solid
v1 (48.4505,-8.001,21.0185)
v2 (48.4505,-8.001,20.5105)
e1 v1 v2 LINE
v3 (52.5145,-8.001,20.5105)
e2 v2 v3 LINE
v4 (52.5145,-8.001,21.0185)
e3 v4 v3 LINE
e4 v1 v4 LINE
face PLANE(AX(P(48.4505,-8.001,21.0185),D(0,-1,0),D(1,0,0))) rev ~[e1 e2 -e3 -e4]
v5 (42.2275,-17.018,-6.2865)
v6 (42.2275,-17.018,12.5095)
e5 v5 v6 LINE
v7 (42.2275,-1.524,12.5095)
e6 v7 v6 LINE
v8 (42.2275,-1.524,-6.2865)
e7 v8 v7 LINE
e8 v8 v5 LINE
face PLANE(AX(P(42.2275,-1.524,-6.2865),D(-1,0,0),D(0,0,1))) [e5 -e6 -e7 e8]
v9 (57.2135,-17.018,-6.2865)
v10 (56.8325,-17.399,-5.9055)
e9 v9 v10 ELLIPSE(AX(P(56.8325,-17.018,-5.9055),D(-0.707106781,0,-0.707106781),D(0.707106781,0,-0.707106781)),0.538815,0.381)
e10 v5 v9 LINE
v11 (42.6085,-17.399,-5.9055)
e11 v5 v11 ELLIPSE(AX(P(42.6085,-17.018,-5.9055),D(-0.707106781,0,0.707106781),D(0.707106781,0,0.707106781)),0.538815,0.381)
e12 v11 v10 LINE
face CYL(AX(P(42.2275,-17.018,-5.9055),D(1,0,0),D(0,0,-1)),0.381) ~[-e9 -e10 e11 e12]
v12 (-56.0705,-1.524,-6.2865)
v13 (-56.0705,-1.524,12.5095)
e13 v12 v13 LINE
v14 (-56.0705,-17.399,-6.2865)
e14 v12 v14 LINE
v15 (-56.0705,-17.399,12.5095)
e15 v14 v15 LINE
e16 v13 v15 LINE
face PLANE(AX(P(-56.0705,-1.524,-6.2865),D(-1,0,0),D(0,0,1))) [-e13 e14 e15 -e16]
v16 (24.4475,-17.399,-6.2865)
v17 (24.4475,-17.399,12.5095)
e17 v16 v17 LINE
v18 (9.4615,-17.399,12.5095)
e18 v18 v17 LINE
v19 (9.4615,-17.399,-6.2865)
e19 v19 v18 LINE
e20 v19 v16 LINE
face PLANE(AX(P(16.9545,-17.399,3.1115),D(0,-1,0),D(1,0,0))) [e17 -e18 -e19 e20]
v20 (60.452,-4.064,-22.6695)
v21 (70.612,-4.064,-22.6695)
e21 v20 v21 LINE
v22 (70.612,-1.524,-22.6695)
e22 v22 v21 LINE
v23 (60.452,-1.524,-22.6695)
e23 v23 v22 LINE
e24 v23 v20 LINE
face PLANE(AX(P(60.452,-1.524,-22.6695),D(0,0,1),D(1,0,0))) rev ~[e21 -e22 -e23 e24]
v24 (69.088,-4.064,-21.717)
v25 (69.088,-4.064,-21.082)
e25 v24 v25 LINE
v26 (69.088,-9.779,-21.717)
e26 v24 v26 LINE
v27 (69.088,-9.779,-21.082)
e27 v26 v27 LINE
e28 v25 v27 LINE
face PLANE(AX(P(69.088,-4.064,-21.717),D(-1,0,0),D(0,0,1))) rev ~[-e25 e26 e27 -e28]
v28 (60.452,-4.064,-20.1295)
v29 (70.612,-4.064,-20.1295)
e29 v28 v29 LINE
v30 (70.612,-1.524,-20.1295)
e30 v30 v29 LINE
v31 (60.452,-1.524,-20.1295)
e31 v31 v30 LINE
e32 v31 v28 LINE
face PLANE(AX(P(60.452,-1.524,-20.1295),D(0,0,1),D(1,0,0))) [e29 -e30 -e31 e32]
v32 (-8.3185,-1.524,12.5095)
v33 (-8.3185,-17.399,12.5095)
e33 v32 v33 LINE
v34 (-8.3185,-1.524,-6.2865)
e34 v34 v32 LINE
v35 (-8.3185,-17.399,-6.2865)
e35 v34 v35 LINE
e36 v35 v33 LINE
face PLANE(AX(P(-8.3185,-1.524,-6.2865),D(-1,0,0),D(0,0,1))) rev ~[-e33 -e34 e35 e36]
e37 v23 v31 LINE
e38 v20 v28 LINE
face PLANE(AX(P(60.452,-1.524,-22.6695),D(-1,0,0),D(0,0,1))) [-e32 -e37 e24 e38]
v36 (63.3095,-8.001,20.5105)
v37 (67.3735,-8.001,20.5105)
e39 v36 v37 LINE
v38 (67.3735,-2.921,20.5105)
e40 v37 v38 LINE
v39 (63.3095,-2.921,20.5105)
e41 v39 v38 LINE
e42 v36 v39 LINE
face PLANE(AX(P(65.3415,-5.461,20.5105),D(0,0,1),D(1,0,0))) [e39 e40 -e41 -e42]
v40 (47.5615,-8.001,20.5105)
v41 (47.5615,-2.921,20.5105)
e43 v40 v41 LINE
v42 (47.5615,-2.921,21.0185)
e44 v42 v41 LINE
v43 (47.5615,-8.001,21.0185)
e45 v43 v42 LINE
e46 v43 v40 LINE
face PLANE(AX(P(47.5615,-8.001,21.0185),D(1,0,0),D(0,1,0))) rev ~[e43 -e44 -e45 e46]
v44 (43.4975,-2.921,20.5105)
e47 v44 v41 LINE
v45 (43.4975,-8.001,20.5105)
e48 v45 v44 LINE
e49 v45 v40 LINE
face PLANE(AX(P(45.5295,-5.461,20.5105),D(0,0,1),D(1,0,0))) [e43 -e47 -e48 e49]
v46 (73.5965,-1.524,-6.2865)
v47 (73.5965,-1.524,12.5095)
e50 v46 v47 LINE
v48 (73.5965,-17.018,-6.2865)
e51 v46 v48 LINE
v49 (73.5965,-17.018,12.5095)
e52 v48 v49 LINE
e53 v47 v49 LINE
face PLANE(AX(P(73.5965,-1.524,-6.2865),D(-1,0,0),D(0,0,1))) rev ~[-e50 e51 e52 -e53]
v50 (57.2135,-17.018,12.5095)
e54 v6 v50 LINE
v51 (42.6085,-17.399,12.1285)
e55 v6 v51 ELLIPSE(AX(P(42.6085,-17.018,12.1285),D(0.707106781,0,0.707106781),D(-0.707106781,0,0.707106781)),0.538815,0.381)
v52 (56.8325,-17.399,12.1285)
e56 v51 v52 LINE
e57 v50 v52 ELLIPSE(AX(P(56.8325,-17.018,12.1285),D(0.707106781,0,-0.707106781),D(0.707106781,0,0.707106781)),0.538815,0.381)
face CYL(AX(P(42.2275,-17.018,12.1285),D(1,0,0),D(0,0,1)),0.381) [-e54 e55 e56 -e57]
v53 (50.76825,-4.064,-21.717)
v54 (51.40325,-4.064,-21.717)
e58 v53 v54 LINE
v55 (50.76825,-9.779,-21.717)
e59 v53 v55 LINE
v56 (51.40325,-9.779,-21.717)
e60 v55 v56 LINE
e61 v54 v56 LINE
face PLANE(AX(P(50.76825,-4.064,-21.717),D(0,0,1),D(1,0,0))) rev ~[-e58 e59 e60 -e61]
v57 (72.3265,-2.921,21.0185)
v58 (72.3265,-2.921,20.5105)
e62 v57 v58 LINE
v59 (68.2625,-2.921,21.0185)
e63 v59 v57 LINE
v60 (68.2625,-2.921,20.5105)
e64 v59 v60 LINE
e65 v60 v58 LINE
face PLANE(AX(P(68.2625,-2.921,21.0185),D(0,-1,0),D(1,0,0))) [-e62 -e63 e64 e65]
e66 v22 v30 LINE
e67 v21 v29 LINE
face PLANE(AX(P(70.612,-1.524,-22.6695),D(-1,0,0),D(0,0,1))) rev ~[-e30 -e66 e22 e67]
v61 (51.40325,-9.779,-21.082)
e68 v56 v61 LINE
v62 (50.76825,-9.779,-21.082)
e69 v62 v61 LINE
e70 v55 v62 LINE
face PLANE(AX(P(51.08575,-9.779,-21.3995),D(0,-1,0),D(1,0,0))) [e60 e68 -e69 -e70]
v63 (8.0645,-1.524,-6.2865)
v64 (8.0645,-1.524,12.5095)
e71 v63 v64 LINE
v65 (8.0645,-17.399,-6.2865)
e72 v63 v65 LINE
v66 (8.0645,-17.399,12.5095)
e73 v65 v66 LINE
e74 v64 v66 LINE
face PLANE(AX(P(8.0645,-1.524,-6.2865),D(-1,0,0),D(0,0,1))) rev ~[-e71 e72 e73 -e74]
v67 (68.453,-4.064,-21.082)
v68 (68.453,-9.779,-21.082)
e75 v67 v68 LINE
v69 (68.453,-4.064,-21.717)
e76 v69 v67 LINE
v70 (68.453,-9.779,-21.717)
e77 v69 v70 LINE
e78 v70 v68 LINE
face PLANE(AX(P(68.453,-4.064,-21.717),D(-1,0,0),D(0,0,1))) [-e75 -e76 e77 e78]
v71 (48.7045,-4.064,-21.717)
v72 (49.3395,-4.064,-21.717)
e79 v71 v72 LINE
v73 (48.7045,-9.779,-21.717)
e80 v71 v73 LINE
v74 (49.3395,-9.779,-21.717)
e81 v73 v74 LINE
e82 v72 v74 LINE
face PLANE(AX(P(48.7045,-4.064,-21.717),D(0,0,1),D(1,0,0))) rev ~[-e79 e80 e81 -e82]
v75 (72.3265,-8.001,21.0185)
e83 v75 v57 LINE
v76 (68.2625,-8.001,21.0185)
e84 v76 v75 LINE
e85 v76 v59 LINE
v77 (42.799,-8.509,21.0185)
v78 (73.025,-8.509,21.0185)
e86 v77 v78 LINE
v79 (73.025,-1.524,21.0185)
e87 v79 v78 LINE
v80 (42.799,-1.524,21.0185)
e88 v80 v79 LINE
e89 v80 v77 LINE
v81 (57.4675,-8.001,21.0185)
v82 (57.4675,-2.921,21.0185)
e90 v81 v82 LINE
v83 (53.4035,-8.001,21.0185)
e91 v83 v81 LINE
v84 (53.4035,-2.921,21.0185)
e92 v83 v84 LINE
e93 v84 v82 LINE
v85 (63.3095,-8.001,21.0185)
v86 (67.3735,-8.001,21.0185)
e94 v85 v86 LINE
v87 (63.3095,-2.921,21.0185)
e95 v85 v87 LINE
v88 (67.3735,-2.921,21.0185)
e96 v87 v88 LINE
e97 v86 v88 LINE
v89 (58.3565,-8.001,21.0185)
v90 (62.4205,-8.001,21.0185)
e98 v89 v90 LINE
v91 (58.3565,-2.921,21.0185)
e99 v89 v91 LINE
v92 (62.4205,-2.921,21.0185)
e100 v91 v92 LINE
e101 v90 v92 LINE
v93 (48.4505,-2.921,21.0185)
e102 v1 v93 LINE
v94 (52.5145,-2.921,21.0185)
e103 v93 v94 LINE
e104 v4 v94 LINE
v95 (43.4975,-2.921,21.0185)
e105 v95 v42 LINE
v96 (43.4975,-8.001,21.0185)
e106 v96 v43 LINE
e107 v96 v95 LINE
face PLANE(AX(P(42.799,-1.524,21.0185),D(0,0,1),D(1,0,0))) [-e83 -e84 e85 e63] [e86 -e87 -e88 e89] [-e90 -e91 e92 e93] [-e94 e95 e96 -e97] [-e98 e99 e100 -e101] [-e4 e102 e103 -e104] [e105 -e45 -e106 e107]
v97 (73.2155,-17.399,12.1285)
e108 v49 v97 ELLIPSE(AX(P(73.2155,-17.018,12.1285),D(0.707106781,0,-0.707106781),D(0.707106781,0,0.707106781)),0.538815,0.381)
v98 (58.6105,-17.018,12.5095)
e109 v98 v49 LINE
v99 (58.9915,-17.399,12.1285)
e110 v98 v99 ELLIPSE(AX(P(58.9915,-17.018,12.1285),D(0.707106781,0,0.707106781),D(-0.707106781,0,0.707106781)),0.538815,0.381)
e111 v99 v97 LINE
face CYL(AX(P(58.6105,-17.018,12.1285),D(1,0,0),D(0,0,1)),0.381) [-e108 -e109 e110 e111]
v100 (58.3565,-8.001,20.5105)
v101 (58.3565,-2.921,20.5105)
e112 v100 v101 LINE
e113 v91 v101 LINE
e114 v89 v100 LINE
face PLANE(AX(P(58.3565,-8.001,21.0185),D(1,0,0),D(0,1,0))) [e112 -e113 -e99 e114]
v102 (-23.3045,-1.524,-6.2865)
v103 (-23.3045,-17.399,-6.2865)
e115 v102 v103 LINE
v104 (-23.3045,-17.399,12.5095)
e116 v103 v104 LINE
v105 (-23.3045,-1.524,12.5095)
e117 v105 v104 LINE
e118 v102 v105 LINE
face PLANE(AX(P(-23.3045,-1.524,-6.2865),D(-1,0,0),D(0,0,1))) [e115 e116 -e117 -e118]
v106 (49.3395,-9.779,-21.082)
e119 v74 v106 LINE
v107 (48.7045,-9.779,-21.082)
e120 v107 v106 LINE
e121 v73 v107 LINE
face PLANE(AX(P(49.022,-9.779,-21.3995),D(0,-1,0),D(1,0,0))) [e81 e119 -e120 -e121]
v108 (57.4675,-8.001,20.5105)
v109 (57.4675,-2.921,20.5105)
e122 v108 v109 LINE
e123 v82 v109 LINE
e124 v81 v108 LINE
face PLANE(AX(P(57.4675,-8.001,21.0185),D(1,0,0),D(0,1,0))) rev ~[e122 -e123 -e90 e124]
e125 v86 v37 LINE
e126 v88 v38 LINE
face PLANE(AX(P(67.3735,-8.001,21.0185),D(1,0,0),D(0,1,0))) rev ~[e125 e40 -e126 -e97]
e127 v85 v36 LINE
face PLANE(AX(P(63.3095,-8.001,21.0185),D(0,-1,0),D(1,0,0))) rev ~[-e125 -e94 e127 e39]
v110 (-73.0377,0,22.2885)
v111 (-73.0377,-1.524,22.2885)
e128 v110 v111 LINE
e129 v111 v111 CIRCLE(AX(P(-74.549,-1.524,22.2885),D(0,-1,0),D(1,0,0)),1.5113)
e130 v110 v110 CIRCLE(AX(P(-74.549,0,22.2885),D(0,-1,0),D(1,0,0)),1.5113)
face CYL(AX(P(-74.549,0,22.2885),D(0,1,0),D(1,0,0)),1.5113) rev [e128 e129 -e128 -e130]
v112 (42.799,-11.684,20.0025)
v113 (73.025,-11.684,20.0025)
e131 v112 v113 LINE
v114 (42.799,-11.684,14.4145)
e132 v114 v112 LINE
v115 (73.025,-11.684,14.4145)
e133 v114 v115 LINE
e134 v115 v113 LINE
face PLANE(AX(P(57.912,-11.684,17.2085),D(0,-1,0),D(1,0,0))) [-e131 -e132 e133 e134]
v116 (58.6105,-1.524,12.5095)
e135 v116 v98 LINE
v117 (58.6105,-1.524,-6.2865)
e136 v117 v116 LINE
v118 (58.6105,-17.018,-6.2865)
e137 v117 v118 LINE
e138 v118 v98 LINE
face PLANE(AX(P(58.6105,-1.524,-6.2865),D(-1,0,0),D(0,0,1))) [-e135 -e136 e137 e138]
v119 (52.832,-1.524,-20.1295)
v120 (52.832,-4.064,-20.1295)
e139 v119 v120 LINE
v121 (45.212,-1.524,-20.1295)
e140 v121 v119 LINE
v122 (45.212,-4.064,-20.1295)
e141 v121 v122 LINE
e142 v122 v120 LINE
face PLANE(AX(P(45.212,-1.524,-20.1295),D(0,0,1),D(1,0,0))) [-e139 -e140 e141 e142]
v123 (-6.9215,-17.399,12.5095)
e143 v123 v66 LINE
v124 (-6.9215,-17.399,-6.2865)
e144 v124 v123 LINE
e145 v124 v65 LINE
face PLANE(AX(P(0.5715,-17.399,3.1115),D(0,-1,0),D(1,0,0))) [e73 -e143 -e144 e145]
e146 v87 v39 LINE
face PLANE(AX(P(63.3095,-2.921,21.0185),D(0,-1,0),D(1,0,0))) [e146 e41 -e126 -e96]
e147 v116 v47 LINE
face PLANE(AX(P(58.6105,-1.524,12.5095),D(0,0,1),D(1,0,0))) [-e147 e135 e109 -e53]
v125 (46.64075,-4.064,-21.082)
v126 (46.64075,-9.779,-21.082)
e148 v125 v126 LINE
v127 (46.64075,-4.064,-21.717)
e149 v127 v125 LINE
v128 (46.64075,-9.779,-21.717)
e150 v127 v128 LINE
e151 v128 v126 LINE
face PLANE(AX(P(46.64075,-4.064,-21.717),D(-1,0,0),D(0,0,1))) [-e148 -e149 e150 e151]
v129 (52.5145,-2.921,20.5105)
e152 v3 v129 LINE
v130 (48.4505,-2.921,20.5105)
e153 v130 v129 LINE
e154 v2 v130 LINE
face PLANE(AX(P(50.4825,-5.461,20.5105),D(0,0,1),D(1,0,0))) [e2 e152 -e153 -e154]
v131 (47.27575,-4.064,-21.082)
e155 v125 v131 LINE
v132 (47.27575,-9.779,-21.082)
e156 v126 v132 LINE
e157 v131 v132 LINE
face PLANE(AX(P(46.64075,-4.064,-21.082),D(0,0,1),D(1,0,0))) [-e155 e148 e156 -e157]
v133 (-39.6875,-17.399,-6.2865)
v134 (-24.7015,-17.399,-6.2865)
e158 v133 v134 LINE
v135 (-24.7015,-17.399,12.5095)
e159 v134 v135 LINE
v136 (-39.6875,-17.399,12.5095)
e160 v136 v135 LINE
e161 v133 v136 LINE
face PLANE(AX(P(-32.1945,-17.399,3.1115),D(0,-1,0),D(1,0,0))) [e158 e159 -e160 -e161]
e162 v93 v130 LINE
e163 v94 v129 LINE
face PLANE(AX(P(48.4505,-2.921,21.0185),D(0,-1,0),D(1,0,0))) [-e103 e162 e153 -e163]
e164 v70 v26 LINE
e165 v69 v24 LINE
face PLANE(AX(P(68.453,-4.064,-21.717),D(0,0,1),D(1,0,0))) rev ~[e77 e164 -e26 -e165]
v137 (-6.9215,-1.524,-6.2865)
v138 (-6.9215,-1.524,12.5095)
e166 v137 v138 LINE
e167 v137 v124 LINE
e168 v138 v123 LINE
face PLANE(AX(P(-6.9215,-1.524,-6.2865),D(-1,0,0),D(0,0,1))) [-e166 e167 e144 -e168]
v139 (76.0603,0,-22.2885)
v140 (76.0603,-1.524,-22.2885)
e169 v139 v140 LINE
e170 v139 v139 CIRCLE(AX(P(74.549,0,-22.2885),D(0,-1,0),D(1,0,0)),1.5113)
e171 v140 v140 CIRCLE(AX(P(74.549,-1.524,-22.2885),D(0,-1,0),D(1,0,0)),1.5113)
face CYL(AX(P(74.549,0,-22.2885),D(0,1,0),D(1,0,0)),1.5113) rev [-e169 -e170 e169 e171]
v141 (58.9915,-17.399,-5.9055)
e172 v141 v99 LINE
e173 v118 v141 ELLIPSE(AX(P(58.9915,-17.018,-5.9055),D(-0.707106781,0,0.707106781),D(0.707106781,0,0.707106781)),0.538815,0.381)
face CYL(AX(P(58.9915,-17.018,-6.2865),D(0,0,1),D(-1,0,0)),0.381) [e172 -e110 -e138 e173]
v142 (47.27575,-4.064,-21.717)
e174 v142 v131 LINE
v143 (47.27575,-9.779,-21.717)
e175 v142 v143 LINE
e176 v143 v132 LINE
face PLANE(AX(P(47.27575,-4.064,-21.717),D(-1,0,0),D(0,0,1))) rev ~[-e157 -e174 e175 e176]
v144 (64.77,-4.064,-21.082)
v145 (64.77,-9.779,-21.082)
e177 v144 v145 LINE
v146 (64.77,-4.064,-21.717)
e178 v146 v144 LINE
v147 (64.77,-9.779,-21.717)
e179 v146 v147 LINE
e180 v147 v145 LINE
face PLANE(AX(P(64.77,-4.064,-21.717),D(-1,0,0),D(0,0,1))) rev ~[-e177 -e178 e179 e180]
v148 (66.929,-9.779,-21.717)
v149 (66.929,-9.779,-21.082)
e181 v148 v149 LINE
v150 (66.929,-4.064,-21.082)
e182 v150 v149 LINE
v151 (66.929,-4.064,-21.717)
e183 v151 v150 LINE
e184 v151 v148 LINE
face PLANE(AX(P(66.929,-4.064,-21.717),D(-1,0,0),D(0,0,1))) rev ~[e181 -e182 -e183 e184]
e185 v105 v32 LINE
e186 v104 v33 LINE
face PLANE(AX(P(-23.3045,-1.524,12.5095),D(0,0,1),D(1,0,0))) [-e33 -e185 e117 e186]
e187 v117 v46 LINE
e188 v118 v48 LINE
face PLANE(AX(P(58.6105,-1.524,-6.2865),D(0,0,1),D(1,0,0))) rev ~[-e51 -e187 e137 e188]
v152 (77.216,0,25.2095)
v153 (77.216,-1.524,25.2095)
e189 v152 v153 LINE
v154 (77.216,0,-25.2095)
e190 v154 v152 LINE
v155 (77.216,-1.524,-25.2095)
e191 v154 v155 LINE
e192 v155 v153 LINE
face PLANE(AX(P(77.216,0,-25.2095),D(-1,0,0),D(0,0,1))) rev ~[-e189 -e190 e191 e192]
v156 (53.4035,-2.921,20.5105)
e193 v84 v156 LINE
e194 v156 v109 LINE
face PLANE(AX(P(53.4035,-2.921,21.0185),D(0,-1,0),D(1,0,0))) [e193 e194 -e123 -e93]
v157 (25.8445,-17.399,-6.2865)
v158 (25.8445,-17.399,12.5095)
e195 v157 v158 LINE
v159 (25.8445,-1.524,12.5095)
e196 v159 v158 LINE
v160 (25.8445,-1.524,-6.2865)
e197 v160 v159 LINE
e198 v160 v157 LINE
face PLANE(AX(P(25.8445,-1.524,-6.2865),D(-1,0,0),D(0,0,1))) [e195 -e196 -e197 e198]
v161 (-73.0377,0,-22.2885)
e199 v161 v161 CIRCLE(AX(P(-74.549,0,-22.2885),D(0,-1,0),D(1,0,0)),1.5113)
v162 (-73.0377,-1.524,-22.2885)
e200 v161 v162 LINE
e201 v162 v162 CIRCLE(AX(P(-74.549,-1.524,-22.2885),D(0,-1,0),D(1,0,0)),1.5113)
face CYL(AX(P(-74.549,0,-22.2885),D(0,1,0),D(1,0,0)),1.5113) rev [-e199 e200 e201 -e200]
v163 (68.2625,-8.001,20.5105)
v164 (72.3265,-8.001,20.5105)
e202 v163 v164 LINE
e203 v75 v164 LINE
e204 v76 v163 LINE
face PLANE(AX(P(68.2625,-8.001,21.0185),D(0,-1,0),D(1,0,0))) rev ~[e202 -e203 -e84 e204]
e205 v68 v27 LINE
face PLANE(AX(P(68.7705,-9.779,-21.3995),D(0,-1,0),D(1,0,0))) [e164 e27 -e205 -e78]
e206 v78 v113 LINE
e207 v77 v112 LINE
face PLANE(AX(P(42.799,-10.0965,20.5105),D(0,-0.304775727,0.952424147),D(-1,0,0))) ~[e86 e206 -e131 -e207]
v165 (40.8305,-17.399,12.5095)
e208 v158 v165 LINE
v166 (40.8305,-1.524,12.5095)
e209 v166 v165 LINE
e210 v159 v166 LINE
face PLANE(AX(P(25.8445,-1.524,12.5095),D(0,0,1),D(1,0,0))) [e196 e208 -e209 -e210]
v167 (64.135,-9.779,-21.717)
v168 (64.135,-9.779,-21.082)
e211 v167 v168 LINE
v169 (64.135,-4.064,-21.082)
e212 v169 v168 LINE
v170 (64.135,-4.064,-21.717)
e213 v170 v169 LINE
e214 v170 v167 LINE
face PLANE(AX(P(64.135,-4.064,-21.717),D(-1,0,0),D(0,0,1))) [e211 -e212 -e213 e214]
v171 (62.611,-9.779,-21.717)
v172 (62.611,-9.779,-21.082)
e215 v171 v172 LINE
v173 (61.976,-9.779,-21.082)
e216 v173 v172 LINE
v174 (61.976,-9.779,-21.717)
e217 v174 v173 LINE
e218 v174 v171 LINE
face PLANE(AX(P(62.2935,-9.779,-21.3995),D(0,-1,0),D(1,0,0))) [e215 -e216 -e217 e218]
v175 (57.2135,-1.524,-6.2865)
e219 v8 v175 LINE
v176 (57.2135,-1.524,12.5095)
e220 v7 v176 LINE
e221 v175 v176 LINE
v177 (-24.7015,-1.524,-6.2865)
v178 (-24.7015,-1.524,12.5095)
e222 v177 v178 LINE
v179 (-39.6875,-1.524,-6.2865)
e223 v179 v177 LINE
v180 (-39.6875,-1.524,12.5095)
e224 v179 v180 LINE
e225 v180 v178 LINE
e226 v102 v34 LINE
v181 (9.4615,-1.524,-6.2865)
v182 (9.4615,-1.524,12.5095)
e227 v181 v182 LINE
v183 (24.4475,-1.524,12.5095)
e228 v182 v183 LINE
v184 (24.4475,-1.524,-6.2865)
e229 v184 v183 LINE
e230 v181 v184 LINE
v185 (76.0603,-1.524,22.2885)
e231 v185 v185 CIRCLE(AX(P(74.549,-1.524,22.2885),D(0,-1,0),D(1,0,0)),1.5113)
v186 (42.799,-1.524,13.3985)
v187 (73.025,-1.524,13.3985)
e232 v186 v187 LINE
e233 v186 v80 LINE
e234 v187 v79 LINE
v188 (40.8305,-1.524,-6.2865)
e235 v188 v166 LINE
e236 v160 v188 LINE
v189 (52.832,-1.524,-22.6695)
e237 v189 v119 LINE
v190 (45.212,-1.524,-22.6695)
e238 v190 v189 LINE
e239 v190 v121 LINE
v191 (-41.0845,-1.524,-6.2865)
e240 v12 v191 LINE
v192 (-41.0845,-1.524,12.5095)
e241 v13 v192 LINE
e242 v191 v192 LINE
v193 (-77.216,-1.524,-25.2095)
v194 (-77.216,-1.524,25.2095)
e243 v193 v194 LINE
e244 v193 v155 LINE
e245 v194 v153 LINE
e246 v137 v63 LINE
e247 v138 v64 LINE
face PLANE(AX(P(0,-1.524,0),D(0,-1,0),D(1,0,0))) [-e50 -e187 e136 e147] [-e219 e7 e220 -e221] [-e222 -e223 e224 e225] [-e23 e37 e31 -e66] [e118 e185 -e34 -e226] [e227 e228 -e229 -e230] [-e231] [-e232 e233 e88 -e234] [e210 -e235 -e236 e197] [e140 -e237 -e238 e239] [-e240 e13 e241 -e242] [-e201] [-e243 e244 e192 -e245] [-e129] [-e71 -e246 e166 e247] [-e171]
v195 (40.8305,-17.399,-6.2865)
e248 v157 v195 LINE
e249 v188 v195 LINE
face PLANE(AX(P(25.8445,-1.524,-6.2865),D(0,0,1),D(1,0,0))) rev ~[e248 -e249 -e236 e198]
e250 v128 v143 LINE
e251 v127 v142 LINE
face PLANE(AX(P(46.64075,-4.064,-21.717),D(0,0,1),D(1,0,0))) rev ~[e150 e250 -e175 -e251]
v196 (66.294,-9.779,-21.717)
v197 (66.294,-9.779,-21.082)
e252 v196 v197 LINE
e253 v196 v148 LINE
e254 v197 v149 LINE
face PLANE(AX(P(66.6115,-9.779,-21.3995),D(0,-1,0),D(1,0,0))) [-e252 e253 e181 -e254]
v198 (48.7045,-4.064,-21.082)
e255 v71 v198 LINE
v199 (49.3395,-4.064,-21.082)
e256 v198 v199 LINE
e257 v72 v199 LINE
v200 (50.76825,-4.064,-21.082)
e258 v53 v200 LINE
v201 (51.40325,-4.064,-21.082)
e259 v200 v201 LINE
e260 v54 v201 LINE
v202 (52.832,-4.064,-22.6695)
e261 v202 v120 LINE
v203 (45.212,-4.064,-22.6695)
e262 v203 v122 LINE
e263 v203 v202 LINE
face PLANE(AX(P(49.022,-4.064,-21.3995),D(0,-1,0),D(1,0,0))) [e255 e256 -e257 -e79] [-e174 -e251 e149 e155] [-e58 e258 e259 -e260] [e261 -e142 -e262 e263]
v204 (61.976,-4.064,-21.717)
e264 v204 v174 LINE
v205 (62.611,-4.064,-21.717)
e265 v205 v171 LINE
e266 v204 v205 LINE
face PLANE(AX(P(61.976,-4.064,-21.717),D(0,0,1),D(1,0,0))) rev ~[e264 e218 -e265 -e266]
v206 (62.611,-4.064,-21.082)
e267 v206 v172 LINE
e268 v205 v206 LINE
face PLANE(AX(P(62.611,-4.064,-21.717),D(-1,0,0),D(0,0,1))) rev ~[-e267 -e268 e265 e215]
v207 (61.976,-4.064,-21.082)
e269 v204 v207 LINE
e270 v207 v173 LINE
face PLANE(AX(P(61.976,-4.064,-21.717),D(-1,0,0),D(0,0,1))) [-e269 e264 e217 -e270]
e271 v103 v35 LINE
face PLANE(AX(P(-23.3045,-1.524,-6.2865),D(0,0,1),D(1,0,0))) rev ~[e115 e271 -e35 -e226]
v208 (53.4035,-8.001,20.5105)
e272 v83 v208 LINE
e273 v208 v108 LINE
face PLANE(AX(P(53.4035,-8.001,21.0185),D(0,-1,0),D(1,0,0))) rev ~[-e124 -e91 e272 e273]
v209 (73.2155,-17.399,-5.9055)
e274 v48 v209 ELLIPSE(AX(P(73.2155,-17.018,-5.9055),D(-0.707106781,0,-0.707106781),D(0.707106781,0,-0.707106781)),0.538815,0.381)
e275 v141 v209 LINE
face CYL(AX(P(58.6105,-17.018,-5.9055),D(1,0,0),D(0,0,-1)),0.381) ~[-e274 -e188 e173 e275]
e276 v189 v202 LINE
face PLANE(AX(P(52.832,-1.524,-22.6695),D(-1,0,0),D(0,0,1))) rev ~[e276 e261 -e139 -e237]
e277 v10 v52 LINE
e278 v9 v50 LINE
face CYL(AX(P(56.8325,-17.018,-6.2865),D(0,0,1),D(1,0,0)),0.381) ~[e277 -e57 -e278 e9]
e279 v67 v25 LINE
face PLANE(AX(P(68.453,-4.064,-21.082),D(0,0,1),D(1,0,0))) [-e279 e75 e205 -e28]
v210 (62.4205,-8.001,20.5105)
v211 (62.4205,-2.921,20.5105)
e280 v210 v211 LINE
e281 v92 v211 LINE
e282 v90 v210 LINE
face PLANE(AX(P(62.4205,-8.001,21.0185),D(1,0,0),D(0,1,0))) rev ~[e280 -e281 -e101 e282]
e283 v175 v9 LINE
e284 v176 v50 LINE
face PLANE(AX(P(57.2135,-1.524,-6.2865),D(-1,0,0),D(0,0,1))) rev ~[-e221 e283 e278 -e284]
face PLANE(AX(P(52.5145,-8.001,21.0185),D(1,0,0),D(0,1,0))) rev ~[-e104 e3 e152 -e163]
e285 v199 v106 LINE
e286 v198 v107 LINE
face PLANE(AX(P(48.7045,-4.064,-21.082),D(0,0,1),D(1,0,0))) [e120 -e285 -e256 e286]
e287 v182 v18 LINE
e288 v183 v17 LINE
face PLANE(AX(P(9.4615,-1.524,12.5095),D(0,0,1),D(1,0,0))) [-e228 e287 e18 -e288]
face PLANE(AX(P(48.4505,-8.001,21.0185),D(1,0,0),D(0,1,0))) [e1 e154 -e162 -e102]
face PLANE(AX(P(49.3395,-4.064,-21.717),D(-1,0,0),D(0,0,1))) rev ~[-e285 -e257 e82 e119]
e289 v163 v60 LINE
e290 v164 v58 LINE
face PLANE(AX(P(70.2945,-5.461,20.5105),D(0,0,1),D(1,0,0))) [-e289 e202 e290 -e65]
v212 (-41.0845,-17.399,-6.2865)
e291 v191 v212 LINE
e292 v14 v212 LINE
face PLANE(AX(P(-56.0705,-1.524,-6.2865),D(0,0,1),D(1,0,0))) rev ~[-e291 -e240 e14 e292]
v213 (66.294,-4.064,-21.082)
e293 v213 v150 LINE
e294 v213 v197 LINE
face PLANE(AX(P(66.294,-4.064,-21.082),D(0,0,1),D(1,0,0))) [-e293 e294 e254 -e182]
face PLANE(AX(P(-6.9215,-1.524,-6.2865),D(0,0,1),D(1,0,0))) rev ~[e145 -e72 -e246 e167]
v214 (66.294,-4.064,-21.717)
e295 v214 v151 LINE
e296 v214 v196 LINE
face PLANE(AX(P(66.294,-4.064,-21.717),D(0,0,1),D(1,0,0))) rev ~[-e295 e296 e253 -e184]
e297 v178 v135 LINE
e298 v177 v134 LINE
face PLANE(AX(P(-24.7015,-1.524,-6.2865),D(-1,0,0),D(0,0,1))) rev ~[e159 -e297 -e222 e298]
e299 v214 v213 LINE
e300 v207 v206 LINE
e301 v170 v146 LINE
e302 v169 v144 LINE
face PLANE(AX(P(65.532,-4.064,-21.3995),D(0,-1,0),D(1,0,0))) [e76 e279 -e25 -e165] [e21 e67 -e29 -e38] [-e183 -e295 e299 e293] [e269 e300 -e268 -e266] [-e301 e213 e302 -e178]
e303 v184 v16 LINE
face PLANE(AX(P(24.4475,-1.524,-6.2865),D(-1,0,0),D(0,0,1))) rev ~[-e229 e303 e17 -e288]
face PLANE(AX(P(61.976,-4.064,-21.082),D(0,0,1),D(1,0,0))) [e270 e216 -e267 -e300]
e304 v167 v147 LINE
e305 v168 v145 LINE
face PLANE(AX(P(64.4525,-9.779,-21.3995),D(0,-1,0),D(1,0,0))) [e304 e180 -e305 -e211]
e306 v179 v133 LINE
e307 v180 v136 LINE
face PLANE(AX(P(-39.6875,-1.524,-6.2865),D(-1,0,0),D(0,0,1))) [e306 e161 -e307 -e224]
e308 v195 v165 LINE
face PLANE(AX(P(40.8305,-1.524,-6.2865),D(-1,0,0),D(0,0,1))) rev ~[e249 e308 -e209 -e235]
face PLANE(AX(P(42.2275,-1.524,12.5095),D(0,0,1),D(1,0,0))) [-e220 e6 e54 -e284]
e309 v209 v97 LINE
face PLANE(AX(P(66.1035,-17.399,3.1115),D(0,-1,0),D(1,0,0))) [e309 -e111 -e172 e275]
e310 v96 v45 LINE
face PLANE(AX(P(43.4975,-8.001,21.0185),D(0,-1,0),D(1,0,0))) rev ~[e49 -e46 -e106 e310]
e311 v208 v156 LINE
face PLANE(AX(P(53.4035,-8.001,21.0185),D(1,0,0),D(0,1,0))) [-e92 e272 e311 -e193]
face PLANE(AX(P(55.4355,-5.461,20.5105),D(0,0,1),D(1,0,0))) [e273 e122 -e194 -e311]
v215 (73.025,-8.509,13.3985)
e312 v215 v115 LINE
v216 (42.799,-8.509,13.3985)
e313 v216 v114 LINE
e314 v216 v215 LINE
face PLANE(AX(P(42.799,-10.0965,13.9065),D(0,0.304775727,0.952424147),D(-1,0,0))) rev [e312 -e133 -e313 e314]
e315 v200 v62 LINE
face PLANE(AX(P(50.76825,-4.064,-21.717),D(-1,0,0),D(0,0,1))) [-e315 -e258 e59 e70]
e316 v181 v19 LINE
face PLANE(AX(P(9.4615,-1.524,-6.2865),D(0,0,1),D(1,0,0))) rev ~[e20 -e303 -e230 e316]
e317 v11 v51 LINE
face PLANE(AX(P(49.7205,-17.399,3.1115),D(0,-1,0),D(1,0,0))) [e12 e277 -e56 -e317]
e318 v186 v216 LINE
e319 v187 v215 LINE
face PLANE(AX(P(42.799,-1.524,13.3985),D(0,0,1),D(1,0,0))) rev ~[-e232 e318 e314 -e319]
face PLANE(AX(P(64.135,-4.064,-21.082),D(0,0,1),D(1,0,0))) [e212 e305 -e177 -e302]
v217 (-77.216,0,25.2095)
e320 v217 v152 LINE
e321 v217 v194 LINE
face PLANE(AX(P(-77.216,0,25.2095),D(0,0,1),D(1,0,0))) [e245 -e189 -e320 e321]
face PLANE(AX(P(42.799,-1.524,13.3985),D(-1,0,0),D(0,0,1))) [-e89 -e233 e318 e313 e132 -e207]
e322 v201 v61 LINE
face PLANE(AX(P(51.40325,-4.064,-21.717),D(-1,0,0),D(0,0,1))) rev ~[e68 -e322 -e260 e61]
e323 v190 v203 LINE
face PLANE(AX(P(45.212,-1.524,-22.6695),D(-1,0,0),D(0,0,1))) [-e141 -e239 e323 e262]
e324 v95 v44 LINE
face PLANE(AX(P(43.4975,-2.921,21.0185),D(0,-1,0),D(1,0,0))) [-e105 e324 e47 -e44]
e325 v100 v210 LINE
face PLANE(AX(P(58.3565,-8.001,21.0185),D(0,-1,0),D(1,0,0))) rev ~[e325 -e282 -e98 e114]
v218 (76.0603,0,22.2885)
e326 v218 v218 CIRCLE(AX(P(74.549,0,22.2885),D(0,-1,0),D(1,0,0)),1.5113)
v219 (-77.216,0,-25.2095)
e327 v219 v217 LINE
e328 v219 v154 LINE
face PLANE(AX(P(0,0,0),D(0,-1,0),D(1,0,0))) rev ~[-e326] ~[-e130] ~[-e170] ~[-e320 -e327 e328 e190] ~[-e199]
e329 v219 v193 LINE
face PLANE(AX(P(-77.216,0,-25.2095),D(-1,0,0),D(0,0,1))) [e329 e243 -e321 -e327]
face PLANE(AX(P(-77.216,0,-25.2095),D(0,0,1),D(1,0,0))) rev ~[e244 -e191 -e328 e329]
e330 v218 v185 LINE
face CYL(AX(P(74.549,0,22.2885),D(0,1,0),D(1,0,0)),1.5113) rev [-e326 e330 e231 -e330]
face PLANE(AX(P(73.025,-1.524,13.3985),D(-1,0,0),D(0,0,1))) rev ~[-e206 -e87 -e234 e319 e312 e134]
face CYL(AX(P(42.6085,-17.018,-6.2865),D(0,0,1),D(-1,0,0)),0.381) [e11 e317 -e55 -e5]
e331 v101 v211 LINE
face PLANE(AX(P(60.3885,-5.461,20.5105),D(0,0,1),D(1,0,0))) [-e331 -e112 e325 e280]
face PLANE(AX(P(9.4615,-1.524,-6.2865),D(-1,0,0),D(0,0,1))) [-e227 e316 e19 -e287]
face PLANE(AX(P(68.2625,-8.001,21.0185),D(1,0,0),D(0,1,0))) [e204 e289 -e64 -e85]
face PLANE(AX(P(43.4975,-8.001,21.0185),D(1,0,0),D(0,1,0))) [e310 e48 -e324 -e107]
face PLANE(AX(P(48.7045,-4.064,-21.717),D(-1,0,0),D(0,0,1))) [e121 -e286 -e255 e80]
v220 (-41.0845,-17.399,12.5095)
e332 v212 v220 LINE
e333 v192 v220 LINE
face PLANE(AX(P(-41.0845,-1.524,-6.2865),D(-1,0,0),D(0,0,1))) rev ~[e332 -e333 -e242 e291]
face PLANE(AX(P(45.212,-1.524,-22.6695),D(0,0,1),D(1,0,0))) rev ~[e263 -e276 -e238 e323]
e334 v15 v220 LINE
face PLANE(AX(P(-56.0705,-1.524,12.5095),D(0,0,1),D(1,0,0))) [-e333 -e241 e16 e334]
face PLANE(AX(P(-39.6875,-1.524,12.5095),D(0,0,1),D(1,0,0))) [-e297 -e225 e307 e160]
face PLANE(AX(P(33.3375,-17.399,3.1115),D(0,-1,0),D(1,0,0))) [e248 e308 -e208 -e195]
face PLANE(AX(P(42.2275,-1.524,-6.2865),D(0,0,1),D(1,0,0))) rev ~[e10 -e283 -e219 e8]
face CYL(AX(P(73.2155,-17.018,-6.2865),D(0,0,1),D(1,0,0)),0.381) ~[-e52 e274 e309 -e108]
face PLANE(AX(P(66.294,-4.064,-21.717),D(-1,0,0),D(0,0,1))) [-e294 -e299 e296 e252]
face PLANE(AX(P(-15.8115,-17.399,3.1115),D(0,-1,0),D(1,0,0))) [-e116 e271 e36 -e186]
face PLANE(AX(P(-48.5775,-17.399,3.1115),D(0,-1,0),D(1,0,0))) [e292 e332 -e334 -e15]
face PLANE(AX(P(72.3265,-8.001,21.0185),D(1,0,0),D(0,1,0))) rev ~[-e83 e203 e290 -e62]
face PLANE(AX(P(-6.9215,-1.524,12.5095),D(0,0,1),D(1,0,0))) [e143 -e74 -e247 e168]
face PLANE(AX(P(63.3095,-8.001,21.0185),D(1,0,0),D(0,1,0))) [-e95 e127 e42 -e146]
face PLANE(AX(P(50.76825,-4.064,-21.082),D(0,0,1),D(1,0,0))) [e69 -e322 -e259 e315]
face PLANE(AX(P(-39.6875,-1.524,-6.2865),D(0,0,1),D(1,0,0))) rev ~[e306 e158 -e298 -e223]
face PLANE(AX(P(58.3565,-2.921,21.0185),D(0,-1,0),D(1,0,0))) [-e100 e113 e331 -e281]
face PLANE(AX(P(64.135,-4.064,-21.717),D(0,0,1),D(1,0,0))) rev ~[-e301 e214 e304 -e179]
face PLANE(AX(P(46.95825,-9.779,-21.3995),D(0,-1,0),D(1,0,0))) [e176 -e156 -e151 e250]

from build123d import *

# Parameters (mm, degrees)
F0_W      = 154.432
F0_H      = 50.419
F0_R      = 1.5113
F1_DEPTH  = 1.524
F2_W      = 14.986
F2_H      = 18.796
F3_DEPTH  = 15.875
F4_R      = 0.381
F5_W      = 30.226
F5_H      = 7.62
F6_DEPTH  = 10.16
F7_SIZE2  = 1.016
F7_SIZE   = 3.175
F8_W      = 4.064
F8_H      = 5.08
F9_DEPTH  = 0.508
F10_W     = 7.62
F10_H     = 2.54
F10_W_2   = 10.16
F11_DEPTH = 2.54
F12_W     = 0.635
F12_H     = 0.635
F13_DEPTH = 5.715


with BuildPart() as f1:
    # F0 (on Front) → F1 (new body)
    with BuildSketch(Plane.XZ):
        Rectangle(F0_W, F0_H)
        with Locations((-74.549, -22.2885)):
            Circle(F0_R, mode=Mode.SUBTRACT)
        with Locations((74.549, -22.2885)):
            Circle(F0_R, mode=Mode.SUBTRACT)
        with Locations((-74.549, 22.2885)):
            Circle(F0_R, mode=Mode.SUBTRACT)
        with Locations((74.549, 22.2885)):
            Circle(F0_R, mode=Mode.SUBTRACT)
    extrude(amount=F1_DEPTH)

    # F2 (on face) → F3 (join)
    with BuildSketch(Plane.XZ.offset(1.524)):
        with Locations((49.7205, 3.1115)):
            Rectangle(F2_W, F2_H)
        with Locations((66.1035, 3.1115)):
            Rectangle(F2_W, F2_H)
        with Locations((33.3375, 3.1115)):
            Rectangle(F2_W, F2_H)
        with Locations((16.9545, 3.1115)):
            Rectangle(F2_W, F2_H)
        with Locations((0.5715, 3.1115)):
            Rectangle(F2_W, F2_H)
        with Locations((-15.8115, 3.1115)):
            Rectangle(F2_W, F2_H)
        with Locations((-32.1945, 3.1115)):
            Rectangle(F2_W, F2_H)
        with Locations((-48.5775, 3.1115)):
            Rectangle(F2_W, F2_H)
    extrude(amount=F3_DEPTH)

    # F4
    f4_edges = [f1.edges().sort_by_distance(p)[0] for p in [
        (42.2275, -17.399, 3.1115),
        (49.7205, -17.399, -6.2865),
        (57.2135, -17.399, 3.1115),
        (49.7205, -17.399, 12.5095),
        (58.6105, -17.399, 3.1115),
        (66.1035, -17.399, -6.2865),
        (73.5965, -17.399, 3.1115),
        (66.1035, -17.399, 12.5095),
    ]]
    fillet(f4_edges, radius=F4_R)

    # F5 (on face) → F6 (join)
    with BuildSketch(Plane.XZ.offset(1.524)):
        with Locations((57.912, 17.2085)):
            Rectangle(F5_W, F5_H)
    extrude(amount=F6_DEPTH)

    # F7
    f7_edges = [f1.edges().sort_by_distance(p)[0] for p in [
        (57.912, -11.684, 21.0185),
        (57.912, -11.684, 13.3985),
    ]]
    chamfer(f7_edges, length=F7_SIZE, length2=F7_SIZE2)

    # F8 (on face) → F9 (cut)
    with BuildSketch(Plane.XY.offset(21.0185)):
        with Locations((45.5295, -5.461)):
            Rectangle(F8_W, F8_H)
        with Locations((50.4825, -5.461)):
            Rectangle(F8_W, F8_H)
        with Locations((55.4355, -5.461)):
            Rectangle(F8_W, F8_H)
        with Locations((60.3885, -5.461)):
            Rectangle(F8_W, F8_H)
        with Locations((65.3415, -5.461)):
            Rectangle(F8_W, F8_H)
        with Locations((70.2945, -5.461)):
            Rectangle(F8_W, F8_H)
    extrude(amount=-F9_DEPTH, mode=Mode.SUBTRACT)

    # F10 (on face) → F11 (join)
    with BuildSketch(Plane.XZ.offset(1.524)):
        with Locations((49.022, -21.3995)):
            Rectangle(F10_W, F10_H)
        with Locations((65.532, -21.3995)):
            Rectangle(F10_W_2, F10_H)
    extrude(amount=F11_DEPTH)

    # F12 (on face) → F13 (join)
    with BuildSketch(Plane.XZ.offset(4.064)):
        with Locations((62.2935, -21.3995)):
            Rectangle(F12_W, F12_H)
        with Locations((64.4525, -21.3995)):
            Rectangle(F12_W, F12_H)
        with Locations((66.6115, -21.3995)):
            Rectangle(F12_W, F12_H)
        with Locations((68.7705, -21.3995)):
            Rectangle(F12_W, F12_H)
        with Locations((51.08575, -21.3995)):
            Rectangle(F12_W, F12_H)
        with Locations((49.022, -21.3995)):
            Rectangle(F12_W, F12_H)
        with Locations((46.95825, -21.3995)):
            Rectangle(F12_W, F12_H)
    extrude(amount=F13_DEPTH)


solid = f1.part
